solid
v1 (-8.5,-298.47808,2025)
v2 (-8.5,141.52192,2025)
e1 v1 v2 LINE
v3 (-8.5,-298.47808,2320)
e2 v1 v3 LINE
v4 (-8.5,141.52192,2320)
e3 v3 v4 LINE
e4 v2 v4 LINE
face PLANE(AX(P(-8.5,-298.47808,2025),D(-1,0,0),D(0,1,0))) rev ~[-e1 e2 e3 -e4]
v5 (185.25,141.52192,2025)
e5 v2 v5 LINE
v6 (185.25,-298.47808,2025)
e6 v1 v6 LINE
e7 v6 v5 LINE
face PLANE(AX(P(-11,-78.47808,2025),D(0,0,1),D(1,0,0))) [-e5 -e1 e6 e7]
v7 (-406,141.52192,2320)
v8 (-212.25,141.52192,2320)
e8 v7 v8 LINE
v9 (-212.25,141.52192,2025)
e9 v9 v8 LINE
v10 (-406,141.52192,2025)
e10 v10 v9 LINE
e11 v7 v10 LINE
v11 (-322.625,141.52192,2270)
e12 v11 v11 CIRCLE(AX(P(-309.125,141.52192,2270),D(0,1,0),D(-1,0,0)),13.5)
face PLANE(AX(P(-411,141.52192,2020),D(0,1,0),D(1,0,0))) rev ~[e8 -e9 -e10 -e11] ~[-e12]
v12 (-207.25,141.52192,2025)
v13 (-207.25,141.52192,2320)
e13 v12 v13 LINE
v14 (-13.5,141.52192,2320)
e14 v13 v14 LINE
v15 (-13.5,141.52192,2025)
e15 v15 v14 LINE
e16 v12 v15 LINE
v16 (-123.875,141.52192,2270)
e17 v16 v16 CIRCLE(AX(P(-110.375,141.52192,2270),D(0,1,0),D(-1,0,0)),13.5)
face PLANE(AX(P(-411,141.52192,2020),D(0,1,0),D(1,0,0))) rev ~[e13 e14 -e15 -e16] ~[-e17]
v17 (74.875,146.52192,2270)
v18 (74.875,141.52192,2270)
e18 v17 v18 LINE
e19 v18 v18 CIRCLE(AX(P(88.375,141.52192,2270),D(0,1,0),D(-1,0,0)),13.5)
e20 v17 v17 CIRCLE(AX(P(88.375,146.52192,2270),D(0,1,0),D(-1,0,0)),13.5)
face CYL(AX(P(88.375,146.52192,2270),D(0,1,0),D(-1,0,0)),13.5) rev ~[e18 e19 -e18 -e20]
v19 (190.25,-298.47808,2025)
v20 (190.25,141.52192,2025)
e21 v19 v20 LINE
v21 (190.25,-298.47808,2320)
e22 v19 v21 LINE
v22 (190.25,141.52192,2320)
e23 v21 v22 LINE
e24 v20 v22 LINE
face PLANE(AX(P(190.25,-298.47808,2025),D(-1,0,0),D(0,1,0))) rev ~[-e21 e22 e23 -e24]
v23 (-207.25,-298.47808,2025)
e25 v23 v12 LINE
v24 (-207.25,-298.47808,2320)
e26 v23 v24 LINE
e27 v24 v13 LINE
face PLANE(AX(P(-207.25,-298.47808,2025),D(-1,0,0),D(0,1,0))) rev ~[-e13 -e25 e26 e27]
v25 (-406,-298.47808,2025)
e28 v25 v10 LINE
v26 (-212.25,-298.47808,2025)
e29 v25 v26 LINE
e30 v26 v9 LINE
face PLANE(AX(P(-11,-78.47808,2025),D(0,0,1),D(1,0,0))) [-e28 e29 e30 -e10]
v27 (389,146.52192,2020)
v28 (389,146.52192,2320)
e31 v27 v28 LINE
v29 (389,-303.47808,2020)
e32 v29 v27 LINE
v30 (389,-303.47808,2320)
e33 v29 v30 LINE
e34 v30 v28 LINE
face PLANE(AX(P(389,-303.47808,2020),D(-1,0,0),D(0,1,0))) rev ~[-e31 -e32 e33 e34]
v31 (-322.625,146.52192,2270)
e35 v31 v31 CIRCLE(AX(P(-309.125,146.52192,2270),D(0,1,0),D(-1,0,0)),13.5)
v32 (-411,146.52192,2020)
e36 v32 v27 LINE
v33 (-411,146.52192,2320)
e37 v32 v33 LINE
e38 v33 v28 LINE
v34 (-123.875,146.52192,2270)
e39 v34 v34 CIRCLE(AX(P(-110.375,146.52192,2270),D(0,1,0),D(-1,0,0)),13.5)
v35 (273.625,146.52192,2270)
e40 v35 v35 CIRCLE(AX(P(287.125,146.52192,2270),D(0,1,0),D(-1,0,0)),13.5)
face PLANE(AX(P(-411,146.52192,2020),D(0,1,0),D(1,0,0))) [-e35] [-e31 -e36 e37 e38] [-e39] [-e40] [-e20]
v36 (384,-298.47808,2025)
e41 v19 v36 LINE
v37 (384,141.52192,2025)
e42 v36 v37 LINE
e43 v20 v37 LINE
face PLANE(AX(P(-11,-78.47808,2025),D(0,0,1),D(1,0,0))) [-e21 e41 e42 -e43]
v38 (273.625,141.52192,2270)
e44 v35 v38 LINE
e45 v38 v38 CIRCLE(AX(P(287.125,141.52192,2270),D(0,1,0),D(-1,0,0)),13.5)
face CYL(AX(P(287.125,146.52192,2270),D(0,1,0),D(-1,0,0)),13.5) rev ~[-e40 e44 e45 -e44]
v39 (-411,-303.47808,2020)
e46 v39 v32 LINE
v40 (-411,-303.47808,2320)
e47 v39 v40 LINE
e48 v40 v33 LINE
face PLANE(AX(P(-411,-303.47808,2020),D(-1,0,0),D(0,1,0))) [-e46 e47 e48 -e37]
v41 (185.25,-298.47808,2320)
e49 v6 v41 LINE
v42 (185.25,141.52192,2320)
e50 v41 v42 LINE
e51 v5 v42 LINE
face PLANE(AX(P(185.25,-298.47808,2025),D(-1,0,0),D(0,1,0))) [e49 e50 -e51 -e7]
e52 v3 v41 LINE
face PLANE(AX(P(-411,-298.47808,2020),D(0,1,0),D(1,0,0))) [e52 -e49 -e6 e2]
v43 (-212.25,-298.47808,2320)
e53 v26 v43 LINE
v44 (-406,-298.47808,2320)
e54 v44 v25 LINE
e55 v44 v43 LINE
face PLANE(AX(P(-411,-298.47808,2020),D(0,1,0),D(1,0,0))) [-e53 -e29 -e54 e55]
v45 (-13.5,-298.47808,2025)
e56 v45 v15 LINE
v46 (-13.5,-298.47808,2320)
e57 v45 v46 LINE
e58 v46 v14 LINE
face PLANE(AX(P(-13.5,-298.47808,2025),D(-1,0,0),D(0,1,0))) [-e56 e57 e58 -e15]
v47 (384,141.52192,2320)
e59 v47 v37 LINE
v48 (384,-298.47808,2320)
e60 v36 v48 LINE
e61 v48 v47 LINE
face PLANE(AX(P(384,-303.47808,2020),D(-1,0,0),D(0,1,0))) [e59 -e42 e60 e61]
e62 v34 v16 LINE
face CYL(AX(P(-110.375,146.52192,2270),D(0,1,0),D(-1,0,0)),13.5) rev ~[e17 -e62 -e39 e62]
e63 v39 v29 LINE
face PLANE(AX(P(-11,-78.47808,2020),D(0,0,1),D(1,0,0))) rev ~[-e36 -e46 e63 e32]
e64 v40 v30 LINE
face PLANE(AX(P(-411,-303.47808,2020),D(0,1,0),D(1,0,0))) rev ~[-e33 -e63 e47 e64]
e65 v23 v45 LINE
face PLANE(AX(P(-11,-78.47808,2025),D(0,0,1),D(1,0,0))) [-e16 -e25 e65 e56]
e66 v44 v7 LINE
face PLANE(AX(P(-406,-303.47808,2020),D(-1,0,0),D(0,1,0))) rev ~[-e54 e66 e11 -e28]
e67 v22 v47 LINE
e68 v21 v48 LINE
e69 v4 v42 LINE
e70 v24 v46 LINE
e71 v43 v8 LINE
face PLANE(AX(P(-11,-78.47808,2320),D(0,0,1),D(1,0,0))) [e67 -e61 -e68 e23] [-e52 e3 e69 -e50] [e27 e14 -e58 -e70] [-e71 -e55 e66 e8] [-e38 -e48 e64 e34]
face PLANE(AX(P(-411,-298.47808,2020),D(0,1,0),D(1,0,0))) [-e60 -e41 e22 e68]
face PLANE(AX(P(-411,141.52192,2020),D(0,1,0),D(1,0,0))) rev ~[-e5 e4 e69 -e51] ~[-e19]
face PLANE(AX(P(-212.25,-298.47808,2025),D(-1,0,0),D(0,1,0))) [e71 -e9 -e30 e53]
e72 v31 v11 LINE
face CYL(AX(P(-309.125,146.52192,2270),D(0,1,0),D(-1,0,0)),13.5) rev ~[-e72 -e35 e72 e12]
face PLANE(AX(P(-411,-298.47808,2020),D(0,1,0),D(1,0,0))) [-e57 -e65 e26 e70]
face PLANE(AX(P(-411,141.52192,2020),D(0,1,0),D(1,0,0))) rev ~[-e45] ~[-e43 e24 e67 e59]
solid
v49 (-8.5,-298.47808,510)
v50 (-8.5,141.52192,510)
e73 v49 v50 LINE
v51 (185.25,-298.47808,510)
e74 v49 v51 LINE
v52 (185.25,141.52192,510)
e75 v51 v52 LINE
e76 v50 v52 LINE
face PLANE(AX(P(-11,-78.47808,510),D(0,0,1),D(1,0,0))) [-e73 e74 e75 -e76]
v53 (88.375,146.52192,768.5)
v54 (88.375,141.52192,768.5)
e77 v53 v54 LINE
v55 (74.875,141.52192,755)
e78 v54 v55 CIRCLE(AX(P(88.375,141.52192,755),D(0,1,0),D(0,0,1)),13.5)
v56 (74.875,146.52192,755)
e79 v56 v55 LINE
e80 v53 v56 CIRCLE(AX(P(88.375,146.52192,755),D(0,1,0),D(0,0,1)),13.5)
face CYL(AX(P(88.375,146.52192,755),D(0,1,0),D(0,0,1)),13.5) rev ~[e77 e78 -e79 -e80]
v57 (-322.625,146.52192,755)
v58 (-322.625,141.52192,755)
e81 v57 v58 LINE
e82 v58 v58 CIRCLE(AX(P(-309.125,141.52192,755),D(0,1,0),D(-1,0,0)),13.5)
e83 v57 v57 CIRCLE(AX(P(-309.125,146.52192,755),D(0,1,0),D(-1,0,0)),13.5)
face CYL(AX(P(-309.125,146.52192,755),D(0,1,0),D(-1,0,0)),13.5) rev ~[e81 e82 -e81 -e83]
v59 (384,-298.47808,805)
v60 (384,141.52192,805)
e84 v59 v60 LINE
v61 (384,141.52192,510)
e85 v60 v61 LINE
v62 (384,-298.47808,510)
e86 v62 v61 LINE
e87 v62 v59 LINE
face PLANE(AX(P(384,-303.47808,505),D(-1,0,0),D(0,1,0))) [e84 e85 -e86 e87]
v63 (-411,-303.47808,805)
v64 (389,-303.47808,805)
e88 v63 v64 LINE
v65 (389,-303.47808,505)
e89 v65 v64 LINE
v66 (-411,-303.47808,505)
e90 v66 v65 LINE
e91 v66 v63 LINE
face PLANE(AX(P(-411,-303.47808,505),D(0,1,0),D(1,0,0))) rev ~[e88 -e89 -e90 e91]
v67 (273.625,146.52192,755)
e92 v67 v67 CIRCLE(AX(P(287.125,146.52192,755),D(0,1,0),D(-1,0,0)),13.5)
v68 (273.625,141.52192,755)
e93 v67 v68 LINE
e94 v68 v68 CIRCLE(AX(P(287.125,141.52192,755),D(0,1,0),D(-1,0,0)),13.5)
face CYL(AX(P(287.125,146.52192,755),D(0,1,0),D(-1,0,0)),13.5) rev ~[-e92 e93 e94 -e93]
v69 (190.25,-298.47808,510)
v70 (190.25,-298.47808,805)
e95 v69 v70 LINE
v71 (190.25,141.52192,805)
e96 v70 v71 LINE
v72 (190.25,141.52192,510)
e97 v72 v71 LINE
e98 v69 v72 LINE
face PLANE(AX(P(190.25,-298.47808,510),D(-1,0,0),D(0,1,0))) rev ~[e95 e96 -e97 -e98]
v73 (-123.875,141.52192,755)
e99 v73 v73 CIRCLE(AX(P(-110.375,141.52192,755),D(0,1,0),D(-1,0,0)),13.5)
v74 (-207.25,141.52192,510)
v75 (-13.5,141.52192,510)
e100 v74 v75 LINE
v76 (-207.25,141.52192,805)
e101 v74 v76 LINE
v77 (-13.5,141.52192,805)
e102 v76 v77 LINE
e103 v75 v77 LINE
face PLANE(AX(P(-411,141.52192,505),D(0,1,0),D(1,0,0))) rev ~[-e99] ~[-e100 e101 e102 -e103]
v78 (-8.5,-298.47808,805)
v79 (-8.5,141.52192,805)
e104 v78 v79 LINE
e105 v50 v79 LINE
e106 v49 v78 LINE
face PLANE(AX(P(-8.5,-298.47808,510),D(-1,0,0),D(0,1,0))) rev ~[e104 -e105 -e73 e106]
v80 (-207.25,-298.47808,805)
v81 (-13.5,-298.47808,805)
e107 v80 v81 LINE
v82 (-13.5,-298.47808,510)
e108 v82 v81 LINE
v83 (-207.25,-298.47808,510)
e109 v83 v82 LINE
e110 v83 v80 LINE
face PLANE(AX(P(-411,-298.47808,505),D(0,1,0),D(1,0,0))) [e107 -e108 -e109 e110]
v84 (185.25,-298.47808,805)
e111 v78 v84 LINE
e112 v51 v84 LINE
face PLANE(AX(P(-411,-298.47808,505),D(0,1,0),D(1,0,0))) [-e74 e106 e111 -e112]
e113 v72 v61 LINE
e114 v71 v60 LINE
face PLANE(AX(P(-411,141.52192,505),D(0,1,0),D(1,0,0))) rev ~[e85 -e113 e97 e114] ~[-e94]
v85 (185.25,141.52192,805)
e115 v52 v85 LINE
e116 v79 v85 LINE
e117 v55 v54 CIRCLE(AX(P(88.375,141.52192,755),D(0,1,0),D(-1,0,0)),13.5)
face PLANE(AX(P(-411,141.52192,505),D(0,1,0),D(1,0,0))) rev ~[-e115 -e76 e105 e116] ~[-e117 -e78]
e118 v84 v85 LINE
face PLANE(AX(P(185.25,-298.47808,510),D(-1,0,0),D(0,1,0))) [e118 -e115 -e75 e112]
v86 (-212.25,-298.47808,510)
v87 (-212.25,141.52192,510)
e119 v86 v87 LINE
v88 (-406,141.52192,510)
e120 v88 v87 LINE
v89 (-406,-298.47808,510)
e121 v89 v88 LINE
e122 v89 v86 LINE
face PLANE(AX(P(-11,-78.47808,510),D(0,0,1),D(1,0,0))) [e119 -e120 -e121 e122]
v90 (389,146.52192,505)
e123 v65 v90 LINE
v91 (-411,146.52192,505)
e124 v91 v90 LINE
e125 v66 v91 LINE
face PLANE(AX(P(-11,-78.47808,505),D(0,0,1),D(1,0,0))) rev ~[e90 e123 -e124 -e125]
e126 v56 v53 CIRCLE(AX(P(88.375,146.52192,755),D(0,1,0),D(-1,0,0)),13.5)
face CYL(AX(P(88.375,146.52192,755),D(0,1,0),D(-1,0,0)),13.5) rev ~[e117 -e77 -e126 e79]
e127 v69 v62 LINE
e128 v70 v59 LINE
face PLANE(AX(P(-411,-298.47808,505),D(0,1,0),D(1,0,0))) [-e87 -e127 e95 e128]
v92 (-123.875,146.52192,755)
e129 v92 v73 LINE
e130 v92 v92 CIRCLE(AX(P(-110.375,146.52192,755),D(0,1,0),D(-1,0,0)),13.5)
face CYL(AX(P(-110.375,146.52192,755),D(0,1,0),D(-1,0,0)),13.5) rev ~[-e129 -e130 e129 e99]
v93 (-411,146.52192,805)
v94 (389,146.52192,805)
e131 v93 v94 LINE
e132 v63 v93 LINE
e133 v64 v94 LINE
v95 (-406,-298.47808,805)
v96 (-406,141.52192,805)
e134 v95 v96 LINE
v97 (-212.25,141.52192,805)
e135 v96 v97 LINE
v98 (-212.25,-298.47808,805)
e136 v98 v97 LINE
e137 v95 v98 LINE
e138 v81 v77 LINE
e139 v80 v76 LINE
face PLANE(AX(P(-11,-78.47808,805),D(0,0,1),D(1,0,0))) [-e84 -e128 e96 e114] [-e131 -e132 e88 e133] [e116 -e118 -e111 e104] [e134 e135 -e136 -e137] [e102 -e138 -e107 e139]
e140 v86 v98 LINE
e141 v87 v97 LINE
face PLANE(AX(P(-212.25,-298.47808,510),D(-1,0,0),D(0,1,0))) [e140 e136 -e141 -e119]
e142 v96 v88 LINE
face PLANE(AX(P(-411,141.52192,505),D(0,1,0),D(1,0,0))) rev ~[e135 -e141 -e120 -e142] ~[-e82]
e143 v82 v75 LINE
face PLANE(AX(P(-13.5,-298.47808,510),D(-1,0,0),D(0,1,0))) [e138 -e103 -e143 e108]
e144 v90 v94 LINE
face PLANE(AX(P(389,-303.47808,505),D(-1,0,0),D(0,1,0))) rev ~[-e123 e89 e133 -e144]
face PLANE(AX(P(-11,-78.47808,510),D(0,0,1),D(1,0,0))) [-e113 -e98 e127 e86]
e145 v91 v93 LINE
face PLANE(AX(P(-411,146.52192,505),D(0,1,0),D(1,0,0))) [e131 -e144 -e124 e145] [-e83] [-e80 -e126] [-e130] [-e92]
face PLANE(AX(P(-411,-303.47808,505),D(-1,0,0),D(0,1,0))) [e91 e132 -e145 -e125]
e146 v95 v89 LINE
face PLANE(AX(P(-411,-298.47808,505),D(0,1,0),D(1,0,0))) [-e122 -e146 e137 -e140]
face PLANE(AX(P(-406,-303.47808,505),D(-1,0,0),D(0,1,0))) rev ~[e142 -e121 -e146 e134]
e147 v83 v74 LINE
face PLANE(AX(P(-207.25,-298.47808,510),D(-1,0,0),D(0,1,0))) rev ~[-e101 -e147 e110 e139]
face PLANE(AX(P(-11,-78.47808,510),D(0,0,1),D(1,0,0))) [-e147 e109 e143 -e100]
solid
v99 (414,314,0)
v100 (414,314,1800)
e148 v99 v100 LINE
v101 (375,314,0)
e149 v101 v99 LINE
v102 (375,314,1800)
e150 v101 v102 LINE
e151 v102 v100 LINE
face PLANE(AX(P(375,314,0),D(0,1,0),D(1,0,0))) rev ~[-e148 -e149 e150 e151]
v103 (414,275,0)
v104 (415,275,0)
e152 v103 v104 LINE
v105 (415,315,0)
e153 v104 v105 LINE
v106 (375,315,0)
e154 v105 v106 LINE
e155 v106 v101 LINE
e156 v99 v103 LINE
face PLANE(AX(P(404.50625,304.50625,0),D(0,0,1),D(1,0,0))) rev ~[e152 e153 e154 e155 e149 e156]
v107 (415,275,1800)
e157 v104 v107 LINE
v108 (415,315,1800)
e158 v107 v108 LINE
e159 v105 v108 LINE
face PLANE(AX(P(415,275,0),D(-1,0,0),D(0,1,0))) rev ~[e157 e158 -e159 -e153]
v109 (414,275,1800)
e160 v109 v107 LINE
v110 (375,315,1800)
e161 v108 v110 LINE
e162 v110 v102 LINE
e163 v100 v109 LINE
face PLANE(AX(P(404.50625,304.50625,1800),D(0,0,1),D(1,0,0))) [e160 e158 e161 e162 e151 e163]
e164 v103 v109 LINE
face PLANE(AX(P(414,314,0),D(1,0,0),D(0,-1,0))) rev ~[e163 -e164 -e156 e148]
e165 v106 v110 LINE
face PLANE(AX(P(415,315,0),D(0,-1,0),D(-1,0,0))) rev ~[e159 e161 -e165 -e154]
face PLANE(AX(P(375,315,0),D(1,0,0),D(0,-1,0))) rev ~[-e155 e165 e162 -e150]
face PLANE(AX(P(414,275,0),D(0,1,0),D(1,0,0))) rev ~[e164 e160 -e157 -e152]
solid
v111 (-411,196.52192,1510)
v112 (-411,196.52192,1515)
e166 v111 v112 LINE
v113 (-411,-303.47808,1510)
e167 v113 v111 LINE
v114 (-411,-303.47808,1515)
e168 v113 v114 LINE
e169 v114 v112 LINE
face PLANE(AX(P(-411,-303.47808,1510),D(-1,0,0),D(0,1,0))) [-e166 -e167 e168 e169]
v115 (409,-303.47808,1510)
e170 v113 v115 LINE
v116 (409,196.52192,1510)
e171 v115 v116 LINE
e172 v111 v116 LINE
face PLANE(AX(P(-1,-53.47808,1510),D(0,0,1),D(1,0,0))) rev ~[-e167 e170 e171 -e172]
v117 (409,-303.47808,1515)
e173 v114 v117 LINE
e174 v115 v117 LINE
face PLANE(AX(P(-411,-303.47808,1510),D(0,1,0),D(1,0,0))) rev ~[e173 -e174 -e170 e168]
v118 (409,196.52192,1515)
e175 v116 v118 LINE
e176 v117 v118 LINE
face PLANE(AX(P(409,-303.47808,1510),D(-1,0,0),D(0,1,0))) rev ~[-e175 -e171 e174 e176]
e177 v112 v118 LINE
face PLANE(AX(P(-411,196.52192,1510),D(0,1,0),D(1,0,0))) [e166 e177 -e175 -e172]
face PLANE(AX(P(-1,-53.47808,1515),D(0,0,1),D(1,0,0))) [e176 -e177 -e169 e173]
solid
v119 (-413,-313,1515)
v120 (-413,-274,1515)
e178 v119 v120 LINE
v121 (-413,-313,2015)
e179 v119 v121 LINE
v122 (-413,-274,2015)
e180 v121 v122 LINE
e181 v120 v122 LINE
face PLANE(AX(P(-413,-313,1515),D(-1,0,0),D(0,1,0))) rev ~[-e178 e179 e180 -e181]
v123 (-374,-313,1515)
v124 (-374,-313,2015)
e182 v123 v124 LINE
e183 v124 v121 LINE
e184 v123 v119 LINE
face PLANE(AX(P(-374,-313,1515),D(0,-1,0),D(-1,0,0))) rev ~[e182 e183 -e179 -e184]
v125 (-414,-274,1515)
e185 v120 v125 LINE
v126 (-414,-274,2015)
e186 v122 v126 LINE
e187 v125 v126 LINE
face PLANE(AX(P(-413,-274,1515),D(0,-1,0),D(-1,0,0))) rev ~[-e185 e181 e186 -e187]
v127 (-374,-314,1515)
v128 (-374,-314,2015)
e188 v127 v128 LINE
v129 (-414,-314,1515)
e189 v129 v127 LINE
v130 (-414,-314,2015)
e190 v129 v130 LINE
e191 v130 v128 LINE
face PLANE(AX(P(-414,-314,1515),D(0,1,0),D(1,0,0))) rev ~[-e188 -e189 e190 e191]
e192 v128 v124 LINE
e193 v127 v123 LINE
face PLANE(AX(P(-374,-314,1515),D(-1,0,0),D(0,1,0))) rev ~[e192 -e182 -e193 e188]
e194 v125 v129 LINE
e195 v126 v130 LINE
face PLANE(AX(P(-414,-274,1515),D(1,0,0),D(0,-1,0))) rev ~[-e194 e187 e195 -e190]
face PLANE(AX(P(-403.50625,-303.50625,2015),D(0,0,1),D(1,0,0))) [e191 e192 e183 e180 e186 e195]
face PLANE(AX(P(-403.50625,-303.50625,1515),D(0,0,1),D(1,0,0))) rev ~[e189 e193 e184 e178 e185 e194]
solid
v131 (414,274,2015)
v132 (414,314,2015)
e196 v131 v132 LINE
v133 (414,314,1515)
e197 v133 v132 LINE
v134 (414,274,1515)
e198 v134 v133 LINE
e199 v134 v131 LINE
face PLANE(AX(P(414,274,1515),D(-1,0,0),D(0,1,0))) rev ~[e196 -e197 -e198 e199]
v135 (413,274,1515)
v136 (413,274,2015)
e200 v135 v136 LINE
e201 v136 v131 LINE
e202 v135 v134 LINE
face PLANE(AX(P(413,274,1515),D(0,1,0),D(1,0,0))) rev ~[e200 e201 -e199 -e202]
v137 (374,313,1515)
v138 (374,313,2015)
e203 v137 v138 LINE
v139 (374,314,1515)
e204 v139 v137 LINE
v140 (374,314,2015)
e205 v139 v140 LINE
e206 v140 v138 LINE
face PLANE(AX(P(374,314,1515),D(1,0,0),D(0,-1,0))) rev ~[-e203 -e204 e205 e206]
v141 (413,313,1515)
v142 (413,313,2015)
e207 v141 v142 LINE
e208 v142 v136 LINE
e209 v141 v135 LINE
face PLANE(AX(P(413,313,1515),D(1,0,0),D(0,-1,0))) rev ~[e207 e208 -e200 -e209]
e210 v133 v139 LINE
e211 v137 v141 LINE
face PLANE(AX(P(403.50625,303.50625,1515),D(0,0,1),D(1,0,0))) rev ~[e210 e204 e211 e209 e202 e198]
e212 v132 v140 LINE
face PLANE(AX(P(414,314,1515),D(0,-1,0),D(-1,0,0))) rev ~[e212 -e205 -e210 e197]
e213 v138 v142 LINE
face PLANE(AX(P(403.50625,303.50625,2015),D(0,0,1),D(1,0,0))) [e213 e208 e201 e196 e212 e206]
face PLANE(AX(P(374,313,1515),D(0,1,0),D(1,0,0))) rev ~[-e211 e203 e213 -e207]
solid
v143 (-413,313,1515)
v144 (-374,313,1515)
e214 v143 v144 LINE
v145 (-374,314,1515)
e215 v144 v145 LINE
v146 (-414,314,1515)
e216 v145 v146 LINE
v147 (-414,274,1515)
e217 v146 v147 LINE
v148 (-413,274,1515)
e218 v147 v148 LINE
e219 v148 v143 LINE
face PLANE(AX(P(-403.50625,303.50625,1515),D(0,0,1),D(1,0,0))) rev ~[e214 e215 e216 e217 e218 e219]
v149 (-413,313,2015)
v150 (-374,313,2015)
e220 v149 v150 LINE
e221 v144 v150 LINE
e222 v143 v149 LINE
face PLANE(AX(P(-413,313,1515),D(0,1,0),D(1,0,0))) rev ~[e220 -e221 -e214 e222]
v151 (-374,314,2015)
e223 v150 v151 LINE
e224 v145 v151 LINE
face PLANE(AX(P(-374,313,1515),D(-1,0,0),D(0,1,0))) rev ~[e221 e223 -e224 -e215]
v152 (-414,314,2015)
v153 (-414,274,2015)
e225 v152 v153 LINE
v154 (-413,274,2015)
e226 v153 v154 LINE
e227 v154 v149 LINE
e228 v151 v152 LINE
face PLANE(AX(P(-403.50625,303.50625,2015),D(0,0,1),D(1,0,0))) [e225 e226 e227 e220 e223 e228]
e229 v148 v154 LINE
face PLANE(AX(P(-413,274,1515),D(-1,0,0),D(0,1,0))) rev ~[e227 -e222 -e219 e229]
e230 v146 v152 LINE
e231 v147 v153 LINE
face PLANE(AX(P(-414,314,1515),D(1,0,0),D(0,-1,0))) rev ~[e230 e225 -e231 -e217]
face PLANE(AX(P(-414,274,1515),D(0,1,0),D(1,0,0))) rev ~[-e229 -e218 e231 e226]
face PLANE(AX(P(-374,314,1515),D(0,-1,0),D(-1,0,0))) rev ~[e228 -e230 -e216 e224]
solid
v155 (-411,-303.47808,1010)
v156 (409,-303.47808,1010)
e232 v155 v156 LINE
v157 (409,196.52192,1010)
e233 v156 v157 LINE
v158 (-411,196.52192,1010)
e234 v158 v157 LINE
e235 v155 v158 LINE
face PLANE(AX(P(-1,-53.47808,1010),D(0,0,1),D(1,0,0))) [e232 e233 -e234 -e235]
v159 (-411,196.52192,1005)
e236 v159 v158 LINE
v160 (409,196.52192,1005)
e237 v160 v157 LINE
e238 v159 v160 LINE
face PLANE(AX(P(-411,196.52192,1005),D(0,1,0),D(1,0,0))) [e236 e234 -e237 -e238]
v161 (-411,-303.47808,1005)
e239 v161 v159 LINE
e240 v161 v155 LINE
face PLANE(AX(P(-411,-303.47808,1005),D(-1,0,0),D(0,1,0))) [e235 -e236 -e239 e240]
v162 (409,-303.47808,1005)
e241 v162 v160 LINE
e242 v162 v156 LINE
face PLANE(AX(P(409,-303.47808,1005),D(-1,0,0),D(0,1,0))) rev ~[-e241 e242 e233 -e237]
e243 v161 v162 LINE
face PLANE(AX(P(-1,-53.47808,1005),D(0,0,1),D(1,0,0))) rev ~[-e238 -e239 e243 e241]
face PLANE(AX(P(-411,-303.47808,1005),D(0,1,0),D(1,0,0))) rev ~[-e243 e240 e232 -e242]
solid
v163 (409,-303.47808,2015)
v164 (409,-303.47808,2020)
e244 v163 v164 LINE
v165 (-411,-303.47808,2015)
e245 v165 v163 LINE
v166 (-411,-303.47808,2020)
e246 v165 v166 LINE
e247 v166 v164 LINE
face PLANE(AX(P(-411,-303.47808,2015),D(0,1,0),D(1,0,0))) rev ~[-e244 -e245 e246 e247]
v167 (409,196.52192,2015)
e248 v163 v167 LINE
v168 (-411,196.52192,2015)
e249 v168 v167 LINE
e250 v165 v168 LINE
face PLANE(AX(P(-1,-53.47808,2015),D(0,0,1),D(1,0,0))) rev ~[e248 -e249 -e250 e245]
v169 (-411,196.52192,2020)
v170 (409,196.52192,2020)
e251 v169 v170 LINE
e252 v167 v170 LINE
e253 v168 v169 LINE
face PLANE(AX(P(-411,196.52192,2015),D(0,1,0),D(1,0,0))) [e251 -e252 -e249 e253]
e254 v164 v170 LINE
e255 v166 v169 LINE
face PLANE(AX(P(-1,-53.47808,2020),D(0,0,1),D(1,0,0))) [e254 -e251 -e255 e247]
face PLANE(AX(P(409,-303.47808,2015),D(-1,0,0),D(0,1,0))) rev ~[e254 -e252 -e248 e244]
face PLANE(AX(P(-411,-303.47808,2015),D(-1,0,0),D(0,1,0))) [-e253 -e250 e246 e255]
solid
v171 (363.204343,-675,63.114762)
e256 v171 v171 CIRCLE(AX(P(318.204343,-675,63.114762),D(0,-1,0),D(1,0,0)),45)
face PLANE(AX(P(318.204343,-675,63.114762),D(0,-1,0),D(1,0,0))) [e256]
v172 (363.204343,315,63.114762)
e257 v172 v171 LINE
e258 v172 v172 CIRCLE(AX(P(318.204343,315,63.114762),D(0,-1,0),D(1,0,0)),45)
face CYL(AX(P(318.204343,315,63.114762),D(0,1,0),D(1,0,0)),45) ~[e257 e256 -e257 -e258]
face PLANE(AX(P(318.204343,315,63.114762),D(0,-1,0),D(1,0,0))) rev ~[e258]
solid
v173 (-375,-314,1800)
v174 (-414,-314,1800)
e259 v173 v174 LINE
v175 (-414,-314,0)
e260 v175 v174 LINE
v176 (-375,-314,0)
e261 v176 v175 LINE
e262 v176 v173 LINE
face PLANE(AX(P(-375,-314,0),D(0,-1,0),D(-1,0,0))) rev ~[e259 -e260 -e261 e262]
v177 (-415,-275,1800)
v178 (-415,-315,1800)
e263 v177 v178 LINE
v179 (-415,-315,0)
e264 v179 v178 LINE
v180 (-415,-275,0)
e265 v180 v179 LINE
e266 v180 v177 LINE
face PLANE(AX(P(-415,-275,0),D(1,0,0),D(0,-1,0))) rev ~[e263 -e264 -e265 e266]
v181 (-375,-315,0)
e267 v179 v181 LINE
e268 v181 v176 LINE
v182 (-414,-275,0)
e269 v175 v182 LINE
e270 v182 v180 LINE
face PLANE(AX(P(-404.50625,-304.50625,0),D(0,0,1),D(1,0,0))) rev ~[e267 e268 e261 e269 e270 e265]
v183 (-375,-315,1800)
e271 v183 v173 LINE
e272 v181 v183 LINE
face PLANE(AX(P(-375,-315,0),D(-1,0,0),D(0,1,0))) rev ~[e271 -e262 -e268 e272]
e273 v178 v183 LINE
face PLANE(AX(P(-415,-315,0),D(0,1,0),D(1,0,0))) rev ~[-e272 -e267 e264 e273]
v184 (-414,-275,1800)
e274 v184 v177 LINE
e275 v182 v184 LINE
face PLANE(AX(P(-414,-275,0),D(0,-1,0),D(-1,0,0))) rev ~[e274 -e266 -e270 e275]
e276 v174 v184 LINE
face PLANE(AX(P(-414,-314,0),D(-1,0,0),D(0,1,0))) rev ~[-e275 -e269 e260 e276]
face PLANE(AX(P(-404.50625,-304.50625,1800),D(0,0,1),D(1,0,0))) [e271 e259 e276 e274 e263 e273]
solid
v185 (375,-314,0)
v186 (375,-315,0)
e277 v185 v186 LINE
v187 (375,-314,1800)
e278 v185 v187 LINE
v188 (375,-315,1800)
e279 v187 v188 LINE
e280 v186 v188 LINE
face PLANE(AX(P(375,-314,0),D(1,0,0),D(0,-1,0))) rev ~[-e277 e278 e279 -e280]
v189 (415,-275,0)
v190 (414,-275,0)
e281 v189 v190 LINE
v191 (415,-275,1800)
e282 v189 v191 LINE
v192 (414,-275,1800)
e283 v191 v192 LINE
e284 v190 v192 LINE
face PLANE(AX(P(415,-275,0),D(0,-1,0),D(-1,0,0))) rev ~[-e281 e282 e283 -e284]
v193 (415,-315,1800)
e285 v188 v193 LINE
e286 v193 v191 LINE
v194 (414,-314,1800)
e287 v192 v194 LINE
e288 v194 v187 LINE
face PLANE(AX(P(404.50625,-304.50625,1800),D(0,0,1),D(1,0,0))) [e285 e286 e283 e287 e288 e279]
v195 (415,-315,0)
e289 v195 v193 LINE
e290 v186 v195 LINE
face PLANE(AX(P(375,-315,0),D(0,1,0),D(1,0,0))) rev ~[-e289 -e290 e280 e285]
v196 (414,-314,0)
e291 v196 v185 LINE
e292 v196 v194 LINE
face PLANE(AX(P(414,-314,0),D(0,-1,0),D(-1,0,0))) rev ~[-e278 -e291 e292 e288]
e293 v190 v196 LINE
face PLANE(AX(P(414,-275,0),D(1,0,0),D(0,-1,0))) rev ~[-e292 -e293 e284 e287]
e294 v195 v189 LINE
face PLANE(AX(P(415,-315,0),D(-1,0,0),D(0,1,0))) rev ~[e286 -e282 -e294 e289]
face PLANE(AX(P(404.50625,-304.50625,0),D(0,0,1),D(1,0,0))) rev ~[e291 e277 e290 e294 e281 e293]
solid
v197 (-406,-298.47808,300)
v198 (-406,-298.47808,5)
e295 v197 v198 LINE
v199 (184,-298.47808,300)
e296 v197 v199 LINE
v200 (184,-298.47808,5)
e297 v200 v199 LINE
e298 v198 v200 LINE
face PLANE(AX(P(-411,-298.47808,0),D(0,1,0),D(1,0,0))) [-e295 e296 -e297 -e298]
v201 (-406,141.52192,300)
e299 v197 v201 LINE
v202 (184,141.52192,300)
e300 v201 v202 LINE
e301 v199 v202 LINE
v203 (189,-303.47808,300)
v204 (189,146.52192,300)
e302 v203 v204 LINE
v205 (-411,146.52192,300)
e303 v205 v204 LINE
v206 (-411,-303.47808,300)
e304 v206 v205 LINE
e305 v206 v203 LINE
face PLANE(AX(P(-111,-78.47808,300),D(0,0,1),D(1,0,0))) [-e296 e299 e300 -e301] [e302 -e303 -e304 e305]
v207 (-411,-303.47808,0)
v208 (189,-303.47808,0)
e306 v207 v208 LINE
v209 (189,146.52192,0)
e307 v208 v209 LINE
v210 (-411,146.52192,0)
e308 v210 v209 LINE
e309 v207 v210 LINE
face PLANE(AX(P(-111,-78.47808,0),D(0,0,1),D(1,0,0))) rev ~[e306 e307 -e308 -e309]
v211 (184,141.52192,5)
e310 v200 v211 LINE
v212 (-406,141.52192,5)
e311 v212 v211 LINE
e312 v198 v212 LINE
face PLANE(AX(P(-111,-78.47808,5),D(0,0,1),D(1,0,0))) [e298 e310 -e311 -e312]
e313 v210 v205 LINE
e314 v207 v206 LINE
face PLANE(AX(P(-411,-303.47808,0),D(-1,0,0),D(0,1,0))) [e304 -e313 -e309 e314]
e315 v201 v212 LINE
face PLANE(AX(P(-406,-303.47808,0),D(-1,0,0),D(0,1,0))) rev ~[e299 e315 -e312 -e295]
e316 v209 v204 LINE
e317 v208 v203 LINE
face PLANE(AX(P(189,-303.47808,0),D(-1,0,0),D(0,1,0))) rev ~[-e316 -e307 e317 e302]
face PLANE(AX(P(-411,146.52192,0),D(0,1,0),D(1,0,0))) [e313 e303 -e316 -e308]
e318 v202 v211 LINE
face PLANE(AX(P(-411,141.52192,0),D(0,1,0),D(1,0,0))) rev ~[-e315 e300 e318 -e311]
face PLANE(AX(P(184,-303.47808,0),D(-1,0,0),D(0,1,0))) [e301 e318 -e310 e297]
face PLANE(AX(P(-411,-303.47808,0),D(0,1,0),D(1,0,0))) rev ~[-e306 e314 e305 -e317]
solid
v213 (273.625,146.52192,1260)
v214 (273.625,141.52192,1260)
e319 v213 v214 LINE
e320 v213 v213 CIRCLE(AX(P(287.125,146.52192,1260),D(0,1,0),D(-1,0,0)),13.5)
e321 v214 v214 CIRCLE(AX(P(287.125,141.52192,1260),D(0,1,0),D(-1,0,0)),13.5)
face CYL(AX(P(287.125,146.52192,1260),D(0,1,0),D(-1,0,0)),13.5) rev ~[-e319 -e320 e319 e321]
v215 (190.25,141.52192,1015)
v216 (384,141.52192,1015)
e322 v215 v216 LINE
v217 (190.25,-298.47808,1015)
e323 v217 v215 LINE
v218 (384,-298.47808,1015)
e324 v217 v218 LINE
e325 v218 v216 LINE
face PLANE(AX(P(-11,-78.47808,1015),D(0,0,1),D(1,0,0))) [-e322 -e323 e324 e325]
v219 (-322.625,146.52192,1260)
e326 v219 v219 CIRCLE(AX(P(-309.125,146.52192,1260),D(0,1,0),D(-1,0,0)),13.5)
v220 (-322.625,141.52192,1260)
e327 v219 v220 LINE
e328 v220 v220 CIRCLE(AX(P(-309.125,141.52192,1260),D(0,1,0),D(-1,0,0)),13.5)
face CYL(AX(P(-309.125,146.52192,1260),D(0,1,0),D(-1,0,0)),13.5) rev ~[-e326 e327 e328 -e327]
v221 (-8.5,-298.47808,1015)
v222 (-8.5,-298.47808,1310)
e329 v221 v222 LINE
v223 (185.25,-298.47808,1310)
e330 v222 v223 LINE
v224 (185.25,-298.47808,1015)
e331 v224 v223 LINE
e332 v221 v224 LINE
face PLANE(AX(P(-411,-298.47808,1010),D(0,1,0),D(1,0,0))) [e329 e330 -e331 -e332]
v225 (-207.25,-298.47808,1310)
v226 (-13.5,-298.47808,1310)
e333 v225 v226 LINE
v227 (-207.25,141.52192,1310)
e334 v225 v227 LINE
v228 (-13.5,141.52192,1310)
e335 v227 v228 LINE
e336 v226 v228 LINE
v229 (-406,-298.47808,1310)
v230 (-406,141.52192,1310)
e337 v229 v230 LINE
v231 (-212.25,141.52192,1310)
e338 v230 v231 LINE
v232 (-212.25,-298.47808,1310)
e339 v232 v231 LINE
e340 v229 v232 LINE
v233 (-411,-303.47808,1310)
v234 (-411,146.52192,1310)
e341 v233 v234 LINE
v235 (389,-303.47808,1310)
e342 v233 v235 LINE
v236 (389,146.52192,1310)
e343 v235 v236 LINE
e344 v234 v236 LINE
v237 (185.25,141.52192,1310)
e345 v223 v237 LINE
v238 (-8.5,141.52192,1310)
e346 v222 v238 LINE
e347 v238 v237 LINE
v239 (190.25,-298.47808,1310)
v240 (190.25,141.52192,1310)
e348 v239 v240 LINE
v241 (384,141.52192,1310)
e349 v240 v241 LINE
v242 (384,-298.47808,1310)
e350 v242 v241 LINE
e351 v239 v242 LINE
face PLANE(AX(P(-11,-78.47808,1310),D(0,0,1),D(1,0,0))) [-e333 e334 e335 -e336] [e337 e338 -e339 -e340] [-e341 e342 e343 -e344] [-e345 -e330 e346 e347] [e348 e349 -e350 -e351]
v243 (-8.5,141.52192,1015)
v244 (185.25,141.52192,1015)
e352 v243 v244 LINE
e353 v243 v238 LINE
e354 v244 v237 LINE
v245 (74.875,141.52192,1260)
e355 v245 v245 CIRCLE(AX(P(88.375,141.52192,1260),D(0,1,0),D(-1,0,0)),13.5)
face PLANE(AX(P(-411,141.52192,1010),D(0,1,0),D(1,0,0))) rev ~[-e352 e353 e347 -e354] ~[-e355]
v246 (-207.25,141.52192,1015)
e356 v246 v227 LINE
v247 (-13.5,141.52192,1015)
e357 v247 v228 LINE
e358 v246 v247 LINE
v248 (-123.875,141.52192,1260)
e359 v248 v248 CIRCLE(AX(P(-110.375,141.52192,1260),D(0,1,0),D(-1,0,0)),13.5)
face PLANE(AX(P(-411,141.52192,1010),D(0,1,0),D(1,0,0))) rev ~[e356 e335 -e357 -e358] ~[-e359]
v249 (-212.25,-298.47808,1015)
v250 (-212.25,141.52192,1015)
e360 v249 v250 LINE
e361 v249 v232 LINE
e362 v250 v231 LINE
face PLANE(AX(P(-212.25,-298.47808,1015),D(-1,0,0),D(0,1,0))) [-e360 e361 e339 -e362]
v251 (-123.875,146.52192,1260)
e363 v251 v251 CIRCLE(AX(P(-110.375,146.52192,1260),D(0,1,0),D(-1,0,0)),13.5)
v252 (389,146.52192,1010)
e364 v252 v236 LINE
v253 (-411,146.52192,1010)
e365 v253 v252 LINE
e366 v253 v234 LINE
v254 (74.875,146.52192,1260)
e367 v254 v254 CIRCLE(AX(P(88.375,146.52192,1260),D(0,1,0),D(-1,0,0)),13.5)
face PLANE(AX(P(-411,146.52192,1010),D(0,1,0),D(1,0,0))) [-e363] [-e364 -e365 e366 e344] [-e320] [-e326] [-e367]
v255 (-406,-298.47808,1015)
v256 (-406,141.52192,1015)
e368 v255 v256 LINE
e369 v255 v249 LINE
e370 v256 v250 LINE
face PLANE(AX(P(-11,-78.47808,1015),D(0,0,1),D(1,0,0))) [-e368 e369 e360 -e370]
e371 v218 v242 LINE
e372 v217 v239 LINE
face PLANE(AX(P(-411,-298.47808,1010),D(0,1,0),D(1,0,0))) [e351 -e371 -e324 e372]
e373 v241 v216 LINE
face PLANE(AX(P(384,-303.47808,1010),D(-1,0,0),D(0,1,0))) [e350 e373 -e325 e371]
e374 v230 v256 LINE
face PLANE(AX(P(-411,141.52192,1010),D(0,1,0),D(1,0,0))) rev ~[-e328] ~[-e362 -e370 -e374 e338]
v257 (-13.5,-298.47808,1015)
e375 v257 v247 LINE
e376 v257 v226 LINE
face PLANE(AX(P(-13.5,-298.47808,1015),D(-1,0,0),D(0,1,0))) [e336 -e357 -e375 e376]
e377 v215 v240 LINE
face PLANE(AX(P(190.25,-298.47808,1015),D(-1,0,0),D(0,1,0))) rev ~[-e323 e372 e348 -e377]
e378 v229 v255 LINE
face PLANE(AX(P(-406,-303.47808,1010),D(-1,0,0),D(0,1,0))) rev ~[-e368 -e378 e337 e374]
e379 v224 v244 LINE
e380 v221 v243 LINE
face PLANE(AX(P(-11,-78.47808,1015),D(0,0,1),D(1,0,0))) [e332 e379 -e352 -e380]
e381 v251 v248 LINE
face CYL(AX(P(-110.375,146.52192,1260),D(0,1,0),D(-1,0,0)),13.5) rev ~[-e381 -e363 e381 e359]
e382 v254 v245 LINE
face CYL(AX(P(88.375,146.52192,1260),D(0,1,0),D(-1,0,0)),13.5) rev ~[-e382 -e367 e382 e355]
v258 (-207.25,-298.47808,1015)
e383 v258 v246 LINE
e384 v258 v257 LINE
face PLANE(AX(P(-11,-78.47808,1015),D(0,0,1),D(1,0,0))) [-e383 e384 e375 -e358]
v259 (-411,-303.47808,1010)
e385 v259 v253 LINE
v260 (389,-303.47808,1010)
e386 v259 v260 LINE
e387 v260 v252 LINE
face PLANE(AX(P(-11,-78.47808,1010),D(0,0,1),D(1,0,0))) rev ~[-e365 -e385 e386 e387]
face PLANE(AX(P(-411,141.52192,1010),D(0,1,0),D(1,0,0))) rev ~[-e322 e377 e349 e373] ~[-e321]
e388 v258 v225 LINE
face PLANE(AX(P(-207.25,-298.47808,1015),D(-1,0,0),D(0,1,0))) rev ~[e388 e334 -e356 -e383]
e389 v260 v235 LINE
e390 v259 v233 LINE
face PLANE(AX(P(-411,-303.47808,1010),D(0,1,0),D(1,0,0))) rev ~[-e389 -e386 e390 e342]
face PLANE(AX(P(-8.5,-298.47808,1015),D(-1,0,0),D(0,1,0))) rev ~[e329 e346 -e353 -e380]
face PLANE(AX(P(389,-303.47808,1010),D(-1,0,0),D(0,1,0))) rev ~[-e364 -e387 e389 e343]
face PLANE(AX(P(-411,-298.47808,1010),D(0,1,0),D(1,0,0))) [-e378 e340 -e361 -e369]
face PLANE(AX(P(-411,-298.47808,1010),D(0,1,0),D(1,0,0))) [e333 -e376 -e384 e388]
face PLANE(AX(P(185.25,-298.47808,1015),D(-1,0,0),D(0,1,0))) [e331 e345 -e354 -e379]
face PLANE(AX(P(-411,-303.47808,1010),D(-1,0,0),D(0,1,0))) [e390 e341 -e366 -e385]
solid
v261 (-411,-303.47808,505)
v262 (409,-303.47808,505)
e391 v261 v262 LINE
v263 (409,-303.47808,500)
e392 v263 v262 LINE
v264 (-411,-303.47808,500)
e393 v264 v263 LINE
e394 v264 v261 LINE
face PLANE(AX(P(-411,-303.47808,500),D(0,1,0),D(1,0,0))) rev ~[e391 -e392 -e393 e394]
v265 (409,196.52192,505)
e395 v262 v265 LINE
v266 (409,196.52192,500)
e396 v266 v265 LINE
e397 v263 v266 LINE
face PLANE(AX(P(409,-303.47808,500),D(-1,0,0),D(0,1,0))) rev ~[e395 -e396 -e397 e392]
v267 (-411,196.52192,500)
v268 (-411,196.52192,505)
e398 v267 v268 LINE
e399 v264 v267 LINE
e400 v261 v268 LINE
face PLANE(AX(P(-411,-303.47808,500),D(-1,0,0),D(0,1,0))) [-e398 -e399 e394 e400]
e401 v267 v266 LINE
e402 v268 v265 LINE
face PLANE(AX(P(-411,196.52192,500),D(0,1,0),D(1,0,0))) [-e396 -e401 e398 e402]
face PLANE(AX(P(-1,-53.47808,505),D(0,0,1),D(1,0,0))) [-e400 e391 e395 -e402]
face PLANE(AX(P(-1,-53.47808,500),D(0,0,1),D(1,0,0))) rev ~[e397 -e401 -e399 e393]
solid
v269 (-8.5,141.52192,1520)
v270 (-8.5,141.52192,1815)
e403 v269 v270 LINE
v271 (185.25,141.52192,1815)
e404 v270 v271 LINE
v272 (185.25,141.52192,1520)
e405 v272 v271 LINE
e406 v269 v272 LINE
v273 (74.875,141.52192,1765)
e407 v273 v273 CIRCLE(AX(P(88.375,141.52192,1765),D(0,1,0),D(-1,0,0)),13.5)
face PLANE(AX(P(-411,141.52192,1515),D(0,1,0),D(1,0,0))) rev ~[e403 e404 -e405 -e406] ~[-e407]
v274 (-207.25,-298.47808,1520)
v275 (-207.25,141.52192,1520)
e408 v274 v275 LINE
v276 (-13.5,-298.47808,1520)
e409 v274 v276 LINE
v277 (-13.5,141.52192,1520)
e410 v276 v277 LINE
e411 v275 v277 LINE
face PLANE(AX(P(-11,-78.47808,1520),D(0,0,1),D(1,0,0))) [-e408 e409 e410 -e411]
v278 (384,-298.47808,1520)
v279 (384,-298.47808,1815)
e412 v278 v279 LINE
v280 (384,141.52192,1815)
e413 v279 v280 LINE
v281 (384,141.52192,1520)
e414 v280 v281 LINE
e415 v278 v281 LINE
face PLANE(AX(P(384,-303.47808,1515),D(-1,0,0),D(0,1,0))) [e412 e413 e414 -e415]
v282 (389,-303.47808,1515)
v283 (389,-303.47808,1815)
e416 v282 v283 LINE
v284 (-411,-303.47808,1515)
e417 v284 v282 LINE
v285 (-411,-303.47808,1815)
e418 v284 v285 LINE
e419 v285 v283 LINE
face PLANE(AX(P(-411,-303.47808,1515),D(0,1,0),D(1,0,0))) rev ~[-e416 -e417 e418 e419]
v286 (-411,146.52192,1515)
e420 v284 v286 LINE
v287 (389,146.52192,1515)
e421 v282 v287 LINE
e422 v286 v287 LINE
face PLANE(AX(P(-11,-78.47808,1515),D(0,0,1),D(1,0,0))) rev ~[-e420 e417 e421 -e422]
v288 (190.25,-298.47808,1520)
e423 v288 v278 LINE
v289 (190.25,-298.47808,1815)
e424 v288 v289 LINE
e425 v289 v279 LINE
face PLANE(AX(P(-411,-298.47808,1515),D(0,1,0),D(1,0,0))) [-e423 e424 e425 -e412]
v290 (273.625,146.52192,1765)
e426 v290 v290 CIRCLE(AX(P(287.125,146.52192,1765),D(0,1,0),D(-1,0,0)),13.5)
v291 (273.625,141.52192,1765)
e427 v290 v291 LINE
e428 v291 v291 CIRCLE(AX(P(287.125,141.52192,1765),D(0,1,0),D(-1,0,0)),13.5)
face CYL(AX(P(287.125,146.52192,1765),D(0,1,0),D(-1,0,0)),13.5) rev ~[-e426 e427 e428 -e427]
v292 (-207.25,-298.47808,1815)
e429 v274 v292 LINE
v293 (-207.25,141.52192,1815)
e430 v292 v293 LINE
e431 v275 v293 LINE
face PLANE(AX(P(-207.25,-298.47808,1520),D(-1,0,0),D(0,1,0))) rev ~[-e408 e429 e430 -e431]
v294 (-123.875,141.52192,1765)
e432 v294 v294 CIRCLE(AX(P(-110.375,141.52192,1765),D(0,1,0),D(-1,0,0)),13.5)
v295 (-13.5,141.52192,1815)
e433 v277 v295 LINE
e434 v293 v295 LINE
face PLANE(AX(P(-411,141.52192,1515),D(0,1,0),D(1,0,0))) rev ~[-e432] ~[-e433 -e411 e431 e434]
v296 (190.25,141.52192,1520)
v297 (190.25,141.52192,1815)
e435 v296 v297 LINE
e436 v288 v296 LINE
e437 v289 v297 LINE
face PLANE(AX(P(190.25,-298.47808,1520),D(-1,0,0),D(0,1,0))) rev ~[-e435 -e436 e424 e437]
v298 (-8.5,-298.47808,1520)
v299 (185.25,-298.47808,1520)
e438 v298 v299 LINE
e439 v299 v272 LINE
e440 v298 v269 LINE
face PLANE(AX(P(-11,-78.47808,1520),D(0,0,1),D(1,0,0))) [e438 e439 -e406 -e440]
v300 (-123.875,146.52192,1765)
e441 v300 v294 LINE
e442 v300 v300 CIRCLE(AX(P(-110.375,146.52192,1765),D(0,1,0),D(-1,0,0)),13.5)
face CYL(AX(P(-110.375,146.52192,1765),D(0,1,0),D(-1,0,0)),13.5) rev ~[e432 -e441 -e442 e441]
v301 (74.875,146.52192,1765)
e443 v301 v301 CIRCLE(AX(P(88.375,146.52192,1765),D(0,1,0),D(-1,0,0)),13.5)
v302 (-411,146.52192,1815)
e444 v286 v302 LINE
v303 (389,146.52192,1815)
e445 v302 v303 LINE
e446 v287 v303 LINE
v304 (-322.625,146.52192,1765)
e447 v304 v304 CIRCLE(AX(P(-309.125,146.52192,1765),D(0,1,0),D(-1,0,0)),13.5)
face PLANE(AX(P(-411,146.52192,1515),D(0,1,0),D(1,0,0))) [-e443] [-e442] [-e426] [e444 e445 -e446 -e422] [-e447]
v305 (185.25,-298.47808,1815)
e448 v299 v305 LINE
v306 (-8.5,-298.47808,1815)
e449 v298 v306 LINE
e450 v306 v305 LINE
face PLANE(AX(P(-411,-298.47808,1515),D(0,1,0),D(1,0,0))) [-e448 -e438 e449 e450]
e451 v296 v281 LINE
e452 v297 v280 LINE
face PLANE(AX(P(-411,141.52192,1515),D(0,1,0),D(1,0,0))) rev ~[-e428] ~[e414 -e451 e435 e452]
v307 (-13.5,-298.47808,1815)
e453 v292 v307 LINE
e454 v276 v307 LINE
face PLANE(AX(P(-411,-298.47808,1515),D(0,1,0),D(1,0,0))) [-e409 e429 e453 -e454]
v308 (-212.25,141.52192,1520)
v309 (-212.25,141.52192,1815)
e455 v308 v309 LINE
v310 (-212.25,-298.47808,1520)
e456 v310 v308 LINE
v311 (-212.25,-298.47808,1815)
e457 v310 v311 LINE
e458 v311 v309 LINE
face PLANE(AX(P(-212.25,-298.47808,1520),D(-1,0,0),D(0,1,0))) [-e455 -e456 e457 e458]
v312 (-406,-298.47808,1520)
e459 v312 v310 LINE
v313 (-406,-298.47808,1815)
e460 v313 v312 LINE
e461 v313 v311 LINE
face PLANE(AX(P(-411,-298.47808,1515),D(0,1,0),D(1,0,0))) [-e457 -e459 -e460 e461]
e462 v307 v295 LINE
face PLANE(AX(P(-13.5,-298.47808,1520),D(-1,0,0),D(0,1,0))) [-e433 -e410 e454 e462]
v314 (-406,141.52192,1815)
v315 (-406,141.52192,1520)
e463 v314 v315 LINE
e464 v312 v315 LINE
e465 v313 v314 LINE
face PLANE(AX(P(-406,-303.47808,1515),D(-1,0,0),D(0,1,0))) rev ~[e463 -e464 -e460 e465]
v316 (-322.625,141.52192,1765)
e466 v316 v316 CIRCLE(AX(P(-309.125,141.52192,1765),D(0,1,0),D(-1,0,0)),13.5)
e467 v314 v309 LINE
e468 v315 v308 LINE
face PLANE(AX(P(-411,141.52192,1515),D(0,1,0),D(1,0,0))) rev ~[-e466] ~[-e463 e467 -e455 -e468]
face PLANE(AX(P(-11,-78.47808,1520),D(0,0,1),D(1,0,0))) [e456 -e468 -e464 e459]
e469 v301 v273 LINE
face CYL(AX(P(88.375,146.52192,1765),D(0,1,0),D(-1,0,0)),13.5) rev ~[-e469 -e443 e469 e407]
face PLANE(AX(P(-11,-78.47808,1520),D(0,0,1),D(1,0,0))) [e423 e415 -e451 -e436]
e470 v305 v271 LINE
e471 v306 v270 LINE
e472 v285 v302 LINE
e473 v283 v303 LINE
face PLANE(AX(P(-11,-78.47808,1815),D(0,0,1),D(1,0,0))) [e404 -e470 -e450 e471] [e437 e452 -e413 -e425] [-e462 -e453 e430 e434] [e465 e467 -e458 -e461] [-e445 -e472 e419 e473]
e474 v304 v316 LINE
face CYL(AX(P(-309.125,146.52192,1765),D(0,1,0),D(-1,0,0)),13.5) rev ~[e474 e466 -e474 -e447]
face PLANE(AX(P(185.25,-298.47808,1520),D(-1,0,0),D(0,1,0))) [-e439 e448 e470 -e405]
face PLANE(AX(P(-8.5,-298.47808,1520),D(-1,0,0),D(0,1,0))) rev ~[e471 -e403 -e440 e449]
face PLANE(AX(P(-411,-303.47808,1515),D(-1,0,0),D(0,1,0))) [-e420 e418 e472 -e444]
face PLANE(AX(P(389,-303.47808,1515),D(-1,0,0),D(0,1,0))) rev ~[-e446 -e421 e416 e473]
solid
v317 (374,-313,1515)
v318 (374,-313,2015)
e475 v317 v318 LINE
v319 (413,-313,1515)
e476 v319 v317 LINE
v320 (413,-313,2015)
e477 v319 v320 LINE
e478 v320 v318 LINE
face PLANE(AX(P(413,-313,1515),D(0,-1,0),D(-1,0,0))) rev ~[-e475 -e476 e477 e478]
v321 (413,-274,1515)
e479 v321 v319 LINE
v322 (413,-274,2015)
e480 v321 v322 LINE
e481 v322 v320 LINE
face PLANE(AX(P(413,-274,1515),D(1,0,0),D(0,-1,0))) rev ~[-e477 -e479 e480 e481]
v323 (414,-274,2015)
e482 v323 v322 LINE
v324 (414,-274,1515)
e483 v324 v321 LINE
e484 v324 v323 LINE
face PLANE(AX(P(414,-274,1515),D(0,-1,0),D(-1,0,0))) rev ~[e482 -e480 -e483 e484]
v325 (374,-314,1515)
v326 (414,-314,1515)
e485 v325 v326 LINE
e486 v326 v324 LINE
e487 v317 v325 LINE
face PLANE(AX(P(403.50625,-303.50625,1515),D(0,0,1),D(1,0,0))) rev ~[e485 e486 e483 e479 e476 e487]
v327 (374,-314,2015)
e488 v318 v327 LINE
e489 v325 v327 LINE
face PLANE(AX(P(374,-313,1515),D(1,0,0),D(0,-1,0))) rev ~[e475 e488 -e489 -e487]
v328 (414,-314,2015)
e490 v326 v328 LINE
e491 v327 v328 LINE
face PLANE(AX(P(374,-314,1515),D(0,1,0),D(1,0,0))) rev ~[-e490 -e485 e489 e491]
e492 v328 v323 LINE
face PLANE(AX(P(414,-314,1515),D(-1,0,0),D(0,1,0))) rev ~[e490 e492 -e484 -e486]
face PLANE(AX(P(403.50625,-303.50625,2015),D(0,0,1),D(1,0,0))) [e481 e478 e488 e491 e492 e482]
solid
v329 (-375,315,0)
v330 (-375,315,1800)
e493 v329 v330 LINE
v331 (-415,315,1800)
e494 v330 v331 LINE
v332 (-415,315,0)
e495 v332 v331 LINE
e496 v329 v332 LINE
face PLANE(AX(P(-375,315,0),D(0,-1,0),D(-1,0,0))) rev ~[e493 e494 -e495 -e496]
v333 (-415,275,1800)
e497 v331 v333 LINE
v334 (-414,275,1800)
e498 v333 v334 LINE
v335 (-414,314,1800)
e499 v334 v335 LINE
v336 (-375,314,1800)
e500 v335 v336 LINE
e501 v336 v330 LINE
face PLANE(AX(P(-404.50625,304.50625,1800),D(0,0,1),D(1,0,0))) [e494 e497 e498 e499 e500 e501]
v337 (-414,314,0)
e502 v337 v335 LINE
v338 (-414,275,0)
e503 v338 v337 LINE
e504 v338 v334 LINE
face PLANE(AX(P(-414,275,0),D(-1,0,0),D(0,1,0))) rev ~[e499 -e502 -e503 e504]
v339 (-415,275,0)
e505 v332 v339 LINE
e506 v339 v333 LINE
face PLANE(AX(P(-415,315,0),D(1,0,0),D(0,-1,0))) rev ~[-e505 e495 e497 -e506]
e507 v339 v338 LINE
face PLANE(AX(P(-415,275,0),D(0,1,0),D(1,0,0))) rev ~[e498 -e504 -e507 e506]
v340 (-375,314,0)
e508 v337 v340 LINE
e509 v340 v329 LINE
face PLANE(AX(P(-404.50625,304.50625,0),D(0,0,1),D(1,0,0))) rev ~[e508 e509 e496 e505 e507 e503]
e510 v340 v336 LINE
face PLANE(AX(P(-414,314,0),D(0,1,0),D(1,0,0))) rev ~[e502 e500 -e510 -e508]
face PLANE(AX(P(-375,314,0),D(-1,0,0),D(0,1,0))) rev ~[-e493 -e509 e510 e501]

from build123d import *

# Parameters (mm, degrees)
F2_W      = 600
F2_H      = 450
F3_DEPTH  = 300
F5_W      = 820
F5_H      = 500
F6_DEPTH  = 5
F7_W      = 800
F7_H      = 450
F8_DEPTH  = 300
F9_T      = -5
F11_W     = 820
F11_H     = 500
F12_DEPTH = 5
F13_W     = 800
F13_H     = 450
F14_DEPTH = 300
F15_T     = -5
F17_W     = 820
F17_H     = 500
F18_DEPTH = 5
F19_W     = 800
F19_H     = 450
F20_DEPTH = 300
F21_T     = -5
F23_W     = 820
F23_H     = 500
F24_DEPTH = 5
F25_W     = 800
F25_H     = 450
F26_DEPTH = 300
F27_T     = -5
F29_R     = 45
F30_DEPTH = 990
F31_W     = 2.5
F31_H     = 440
F31_W_2   = 5
F32_DEPTH = 295
F33_W     = 5
F33_H     = 440
F34_DEPTH = 295
F35_W     = 5
F35_H     = 440
F36_DEPTH = 295
F37_W     = 5
F37_H     = 440
F38_DEPTH = 295
F40_DEPTH = 1800
F41_T     = -5
F43_DEPTH = 500
F44_R     = 13.5
F45_DEPTH = 25


with BuildPart() as f3:
    # F2 (on Top) → F3 (new body)
    with BuildSketch(Plane.XY):
        with Locations((-111, -78.4780800343)):
            Rectangle(F2_W, F2_H)
    extrude(amount=F3_DEPTH)

    # F41
    f41_openings = [f3.faces().sort_by_distance(p)[0] for p in [
        (-111, -78.47808, 300),
    ]]
    offset(amount=F41_T, openings=f41_openings)


with BuildPart() as f6:
    # F5 (on offset) → F6 (new body)
    with BuildSketch(Plane.XY.offset(500)):
        with Locations((-1, -53.4780800343)):
            Rectangle(F5_W, F5_H)
    extrude(amount=F6_DEPTH)


with BuildPart() as f8:
    # F7 (on face) → F8 (new body)
    with BuildSketch(Plane.XY.offset(505)):
        with Locations((-11, -78.4780800343)):
            Rectangle(F7_W, F7_H)
    extrude(amount=F8_DEPTH)

    # F9
    f9_openings = [f8.faces().sort_by_distance(p)[0] for p in [
        (-11, -78.47808, 805),
    ]]
    offset(amount=F9_T, openings=f9_openings)

    # F31 (on face) → F32 (join, through all)
    with BuildSketch(Plane.XY.offset(510)):
        with Locations((-211, -78.4780800343)):
            Rectangle(F31_W, F31_H)
        with Locations((-208.5, -78.4780800343)):
            Rectangle(F31_W, F31_H)
        with Locations((-12.25, -78.4780800343)):
            Rectangle(F31_W, F31_H)
        with Locations((-9.75, -78.4780800343)):
            Rectangle(F31_W, F31_H)
        with Locations((187.75, -78.4780800343)):
            Rectangle(F31_W_2, F31_H)
    extrude(amount=F32_DEPTH)


with BuildPart() as f12:
    # F11 (on offset) → F12 (new body)
    with BuildSketch(Plane.XY.offset(1005)):
        with Locations((-1, -53.4780800343)):
            Rectangle(F11_W, F11_H)
    extrude(amount=F12_DEPTH)


with BuildPart() as f14:
    # F13 (on face) → F14 (new body)
    with BuildSketch(Plane.XY.offset(1010)):
        with Locations((-11, -78.4780800343)):
            Rectangle(F13_W, F13_H)
    extrude(amount=F14_DEPTH)

    # F15
    f15_openings = [f14.faces().sort_by_distance(p)[0] for p in [
        (-11, -78.47808, 1310),
    ]]
    offset(amount=F15_T, openings=f15_openings)

    # F33 (on face) → F34 (join, through all)
    with BuildSketch(Plane.XY.offset(1015)):
        with Locations((-209.75, -78.4780800343)):
            Rectangle(F33_W, F33_H)
        with Locations((-11, -78.4780800343)):
            Rectangle(F33_W, F33_H)
        with Locations((187.75, -78.4780800343)):
            Rectangle(F33_W, F33_H)
    extrude(amount=F34_DEPTH)


with BuildPart() as f18:
    # F17 (on offset) → F18 (new body)
    with BuildSketch(Plane.XY.offset(1510)):
        with Locations((-1, -53.4780800343)):
            Rectangle(F17_W, F17_H)
    extrude(amount=F18_DEPTH)


with BuildPart() as f20:
    # F19 (on face) → F20 (new body)
    with BuildSketch(Plane.XY.offset(1515)):
        with Locations((-11, -78.4780800343)):
            Rectangle(F19_W, F19_H)
    extrude(amount=F20_DEPTH)

    # F21
    f21_openings = [f20.faces().sort_by_distance(p)[0] for p in [
        (-11, -78.47808, 1815),
    ]]
    offset(amount=F21_T, openings=f21_openings)

    # F35 (on face) → F36 (join, through all)
    with BuildSketch(Plane.XY.offset(1520)):
        with Locations((-209.75, -78.4780800343)):
            Rectangle(F35_W, F35_H)
        with Locations((-11, -78.4780800343)):
            Rectangle(F35_W, F35_H)
        with Locations((187.75, -78.4780800343)):
            Rectangle(F35_W, F35_H)
    extrude(amount=F36_DEPTH)


with BuildPart() as f24:
    # F23 (on offset) → F24 (new body)
    with BuildSketch(Plane.XY.offset(2015)):
        with Locations((-1, -53.4780800343)):
            Rectangle(F23_W, F23_H)
    extrude(amount=F24_DEPTH)


with BuildPart() as f26:
    # F25 (on face) → F26 (new body)
    with BuildSketch(Plane.XY.offset(2020)):
        with Locations((-11, -78.4780800343)):
            Rectangle(F25_W, F25_H)
    extrude(amount=F26_DEPTH)

    # F27
    f27_openings = [f26.faces().sort_by_distance(p)[0] for p in [
        (-11, -78.47808, 2320),
    ]]
    offset(amount=F27_T, openings=f27_openings)

    # F37 (on face) → F38 (join, through all)
    with BuildSketch(Plane.XY.offset(2025)):
        with Locations((-209.75, -78.4780800343)):
            Rectangle(F37_W, F37_H)
        with Locations((-11, -78.4780800343)):
            Rectangle(F37_W, F37_H)
        with Locations((187.75, -78.4780800343)):
            Rectangle(F37_W, F37_H)
    extrude(amount=F38_DEPTH)


with BuildPart() as f30:
    # F29 (on face) → F30 (new body)
    with BuildSketch(Plane.XZ.offset(-315)):
        with Locations((318.2043433189, 63.1147623062)):
            Circle(F29_R)
    extrude(amount=F30_DEPTH)


with BuildPart() as f40:
    # F39 (on Top) → F40 (new body)
    with BuildSketch(Plane.XY):
        Polygon((-415, -275), (-415, -315), (-375, -315), (-375, -314), (-414, -314), (-414, -275), align=None)
    extrude(amount=F40_DEPTH)


with BuildPart() as f40b:
    # F39 (on Top) → F40, piece 2 (new body)
    with BuildSketch(Plane.XY):
        Polygon((375, -314), (375, -315), (415, -315), (415, -275), (414, -275), (414, -314), align=None)
    extrude(amount=F40_DEPTH)


with BuildPart() as f40c:
    # F39 (on Top) → F40, piece 3 (new body)
    with BuildSketch(Plane.XY):
        Polygon((415, 315), (375, 315), (375, 314), (414, 314), (414, 275), (415, 275), align=None)
    extrude(amount=F40_DEPTH)


with BuildPart() as f40d:
    # F39 (on Top) → F40, piece 4 (new body)
    with BuildSketch(Plane.XY):
        Polygon((-415, 315), (-415, 275), (-414, 275), (-414, 314), (-375, 314), (-375, 315), align=None)
    extrude(amount=F40_DEPTH)


with BuildPart() as f43:
    # F42 (on face) → F43 (new body, through all)
    with BuildSketch(Plane.XY.offset(1515)):
        Polygon((414, 275), (414, 314), (375, 314), (374, 314), (374, 313), (413, 313), (413, 274), (414, 274), align=None)
    extrude(amount=F43_DEPTH)


with BuildPart() as f43b:
    # F42 (on face) → F43, piece 2 (new body, through all)
    with BuildSketch(Plane.XY.offset(1515)):
        Polygon((374, -314), (375, -314), (414, -314), (414, -275), (414, -274), (413, -274), (413, -313), (374, -313), align=None)
    extrude(amount=F43_DEPTH)


with BuildPart() as f43c:
    # F42 (on face) → F43, piece 3 (new body, through all)
    with BuildSketch(Plane.XY.offset(1515)):
        Polygon((-414, -274), (-414, -275), (-414, -314), (-375, -314), (-374, -314), (-374, -313), (-413, -313), (-413, -274), align=None)
    extrude(amount=F43_DEPTH)


with BuildPart() as f43d:
    # F42 (on face) → F43, piece 4 (new body, through all)
    with BuildSketch(Plane.XY.offset(1515)):
        Polygon((-414, 314), (-414, 275), (-414, 274), (-413, 274), (-413, 313), (-374, 313), (-374, 314), (-375, 314), align=None)
    extrude(amount=F43_DEPTH)


with BuildPart() as f45_tool:
    # F44 (on face) → F45 (new body)
    with BuildSketch(Plane(origin=(0, 146.5219199657, 0), x_dir=(-1, 0, 0), z_dir=(0, 1, 0))):
        with Locations((-287.125, 2270)):
            Circle(F44_R)
        with Locations((-88.375, 2270)):
            Circle(F44_R)
        with Locations((110.375, 2270)):
            Circle(F44_R)
        with Locations((309.125, 2270)):
            Circle(F44_R)
        with Locations((-287.125, 1765)):
            Circle(F44_R)
        with Locations((-88.375, 1765)):
            Circle(F44_R)
        with Locations((110.375, 1765)):
            Circle(F44_R)
        with Locations((309.125, 1765)):
            Circle(F44_R)
        with Locations((-287.125, 1260)):
            Circle(F44_R)
        with Locations((-88.375, 1260)):
            Circle(F44_R)
        with Locations((110.375, 1260)):
            Circle(F44_R)
        with Locations((309.125, 1260)):
            Circle(F44_R)
        with Locations((-287.125, 755)):
            Circle(F44_R)
        with BuildLine():
            ThreePointArc((-74.875, 755), (-78.829058454, 764.545941546), (-88.375, 768.5))
            ThreePointArc((-88.375, 768.5), (-97.920941546, 745.454058454), (-74.875, 755))
        make_face()
        with Locations((110.375, 755)):
            Circle(F44_R)
        with Locations((309.125, 755)):
            Circle(F44_R)
    extrude(amount=-F45_DEPTH)


with BuildPart() as f8_1:
    add(f8.part)

    # F45: cut by f45_tool
    add(f45_tool.part, mode=Mode.SUBTRACT)


with BuildPart() as f14_1:
    add(f14.part)

    # F45: cut by f45_tool
    add(f45_tool.part, mode=Mode.SUBTRACT)


with BuildPart() as f20_1:
    add(f20.part)

    # F45: cut by f45_tool
    add(f45_tool.part, mode=Mode.SUBTRACT)


with BuildPart() as f26_1:
    add(f26.part)

    # F45: cut by f45_tool
    add(f45_tool.part, mode=Mode.SUBTRACT)


solid = Compound([f3.part, f6.part, f12.part, f18.part, f24.part, f30.part, f40.part, f40b.part, f40c.part, f40d.part, f43.part, f43b.part, f43c.part, f43d.part, f8_1.part, f14_1.part, f20_1.part, f26_1.part])
